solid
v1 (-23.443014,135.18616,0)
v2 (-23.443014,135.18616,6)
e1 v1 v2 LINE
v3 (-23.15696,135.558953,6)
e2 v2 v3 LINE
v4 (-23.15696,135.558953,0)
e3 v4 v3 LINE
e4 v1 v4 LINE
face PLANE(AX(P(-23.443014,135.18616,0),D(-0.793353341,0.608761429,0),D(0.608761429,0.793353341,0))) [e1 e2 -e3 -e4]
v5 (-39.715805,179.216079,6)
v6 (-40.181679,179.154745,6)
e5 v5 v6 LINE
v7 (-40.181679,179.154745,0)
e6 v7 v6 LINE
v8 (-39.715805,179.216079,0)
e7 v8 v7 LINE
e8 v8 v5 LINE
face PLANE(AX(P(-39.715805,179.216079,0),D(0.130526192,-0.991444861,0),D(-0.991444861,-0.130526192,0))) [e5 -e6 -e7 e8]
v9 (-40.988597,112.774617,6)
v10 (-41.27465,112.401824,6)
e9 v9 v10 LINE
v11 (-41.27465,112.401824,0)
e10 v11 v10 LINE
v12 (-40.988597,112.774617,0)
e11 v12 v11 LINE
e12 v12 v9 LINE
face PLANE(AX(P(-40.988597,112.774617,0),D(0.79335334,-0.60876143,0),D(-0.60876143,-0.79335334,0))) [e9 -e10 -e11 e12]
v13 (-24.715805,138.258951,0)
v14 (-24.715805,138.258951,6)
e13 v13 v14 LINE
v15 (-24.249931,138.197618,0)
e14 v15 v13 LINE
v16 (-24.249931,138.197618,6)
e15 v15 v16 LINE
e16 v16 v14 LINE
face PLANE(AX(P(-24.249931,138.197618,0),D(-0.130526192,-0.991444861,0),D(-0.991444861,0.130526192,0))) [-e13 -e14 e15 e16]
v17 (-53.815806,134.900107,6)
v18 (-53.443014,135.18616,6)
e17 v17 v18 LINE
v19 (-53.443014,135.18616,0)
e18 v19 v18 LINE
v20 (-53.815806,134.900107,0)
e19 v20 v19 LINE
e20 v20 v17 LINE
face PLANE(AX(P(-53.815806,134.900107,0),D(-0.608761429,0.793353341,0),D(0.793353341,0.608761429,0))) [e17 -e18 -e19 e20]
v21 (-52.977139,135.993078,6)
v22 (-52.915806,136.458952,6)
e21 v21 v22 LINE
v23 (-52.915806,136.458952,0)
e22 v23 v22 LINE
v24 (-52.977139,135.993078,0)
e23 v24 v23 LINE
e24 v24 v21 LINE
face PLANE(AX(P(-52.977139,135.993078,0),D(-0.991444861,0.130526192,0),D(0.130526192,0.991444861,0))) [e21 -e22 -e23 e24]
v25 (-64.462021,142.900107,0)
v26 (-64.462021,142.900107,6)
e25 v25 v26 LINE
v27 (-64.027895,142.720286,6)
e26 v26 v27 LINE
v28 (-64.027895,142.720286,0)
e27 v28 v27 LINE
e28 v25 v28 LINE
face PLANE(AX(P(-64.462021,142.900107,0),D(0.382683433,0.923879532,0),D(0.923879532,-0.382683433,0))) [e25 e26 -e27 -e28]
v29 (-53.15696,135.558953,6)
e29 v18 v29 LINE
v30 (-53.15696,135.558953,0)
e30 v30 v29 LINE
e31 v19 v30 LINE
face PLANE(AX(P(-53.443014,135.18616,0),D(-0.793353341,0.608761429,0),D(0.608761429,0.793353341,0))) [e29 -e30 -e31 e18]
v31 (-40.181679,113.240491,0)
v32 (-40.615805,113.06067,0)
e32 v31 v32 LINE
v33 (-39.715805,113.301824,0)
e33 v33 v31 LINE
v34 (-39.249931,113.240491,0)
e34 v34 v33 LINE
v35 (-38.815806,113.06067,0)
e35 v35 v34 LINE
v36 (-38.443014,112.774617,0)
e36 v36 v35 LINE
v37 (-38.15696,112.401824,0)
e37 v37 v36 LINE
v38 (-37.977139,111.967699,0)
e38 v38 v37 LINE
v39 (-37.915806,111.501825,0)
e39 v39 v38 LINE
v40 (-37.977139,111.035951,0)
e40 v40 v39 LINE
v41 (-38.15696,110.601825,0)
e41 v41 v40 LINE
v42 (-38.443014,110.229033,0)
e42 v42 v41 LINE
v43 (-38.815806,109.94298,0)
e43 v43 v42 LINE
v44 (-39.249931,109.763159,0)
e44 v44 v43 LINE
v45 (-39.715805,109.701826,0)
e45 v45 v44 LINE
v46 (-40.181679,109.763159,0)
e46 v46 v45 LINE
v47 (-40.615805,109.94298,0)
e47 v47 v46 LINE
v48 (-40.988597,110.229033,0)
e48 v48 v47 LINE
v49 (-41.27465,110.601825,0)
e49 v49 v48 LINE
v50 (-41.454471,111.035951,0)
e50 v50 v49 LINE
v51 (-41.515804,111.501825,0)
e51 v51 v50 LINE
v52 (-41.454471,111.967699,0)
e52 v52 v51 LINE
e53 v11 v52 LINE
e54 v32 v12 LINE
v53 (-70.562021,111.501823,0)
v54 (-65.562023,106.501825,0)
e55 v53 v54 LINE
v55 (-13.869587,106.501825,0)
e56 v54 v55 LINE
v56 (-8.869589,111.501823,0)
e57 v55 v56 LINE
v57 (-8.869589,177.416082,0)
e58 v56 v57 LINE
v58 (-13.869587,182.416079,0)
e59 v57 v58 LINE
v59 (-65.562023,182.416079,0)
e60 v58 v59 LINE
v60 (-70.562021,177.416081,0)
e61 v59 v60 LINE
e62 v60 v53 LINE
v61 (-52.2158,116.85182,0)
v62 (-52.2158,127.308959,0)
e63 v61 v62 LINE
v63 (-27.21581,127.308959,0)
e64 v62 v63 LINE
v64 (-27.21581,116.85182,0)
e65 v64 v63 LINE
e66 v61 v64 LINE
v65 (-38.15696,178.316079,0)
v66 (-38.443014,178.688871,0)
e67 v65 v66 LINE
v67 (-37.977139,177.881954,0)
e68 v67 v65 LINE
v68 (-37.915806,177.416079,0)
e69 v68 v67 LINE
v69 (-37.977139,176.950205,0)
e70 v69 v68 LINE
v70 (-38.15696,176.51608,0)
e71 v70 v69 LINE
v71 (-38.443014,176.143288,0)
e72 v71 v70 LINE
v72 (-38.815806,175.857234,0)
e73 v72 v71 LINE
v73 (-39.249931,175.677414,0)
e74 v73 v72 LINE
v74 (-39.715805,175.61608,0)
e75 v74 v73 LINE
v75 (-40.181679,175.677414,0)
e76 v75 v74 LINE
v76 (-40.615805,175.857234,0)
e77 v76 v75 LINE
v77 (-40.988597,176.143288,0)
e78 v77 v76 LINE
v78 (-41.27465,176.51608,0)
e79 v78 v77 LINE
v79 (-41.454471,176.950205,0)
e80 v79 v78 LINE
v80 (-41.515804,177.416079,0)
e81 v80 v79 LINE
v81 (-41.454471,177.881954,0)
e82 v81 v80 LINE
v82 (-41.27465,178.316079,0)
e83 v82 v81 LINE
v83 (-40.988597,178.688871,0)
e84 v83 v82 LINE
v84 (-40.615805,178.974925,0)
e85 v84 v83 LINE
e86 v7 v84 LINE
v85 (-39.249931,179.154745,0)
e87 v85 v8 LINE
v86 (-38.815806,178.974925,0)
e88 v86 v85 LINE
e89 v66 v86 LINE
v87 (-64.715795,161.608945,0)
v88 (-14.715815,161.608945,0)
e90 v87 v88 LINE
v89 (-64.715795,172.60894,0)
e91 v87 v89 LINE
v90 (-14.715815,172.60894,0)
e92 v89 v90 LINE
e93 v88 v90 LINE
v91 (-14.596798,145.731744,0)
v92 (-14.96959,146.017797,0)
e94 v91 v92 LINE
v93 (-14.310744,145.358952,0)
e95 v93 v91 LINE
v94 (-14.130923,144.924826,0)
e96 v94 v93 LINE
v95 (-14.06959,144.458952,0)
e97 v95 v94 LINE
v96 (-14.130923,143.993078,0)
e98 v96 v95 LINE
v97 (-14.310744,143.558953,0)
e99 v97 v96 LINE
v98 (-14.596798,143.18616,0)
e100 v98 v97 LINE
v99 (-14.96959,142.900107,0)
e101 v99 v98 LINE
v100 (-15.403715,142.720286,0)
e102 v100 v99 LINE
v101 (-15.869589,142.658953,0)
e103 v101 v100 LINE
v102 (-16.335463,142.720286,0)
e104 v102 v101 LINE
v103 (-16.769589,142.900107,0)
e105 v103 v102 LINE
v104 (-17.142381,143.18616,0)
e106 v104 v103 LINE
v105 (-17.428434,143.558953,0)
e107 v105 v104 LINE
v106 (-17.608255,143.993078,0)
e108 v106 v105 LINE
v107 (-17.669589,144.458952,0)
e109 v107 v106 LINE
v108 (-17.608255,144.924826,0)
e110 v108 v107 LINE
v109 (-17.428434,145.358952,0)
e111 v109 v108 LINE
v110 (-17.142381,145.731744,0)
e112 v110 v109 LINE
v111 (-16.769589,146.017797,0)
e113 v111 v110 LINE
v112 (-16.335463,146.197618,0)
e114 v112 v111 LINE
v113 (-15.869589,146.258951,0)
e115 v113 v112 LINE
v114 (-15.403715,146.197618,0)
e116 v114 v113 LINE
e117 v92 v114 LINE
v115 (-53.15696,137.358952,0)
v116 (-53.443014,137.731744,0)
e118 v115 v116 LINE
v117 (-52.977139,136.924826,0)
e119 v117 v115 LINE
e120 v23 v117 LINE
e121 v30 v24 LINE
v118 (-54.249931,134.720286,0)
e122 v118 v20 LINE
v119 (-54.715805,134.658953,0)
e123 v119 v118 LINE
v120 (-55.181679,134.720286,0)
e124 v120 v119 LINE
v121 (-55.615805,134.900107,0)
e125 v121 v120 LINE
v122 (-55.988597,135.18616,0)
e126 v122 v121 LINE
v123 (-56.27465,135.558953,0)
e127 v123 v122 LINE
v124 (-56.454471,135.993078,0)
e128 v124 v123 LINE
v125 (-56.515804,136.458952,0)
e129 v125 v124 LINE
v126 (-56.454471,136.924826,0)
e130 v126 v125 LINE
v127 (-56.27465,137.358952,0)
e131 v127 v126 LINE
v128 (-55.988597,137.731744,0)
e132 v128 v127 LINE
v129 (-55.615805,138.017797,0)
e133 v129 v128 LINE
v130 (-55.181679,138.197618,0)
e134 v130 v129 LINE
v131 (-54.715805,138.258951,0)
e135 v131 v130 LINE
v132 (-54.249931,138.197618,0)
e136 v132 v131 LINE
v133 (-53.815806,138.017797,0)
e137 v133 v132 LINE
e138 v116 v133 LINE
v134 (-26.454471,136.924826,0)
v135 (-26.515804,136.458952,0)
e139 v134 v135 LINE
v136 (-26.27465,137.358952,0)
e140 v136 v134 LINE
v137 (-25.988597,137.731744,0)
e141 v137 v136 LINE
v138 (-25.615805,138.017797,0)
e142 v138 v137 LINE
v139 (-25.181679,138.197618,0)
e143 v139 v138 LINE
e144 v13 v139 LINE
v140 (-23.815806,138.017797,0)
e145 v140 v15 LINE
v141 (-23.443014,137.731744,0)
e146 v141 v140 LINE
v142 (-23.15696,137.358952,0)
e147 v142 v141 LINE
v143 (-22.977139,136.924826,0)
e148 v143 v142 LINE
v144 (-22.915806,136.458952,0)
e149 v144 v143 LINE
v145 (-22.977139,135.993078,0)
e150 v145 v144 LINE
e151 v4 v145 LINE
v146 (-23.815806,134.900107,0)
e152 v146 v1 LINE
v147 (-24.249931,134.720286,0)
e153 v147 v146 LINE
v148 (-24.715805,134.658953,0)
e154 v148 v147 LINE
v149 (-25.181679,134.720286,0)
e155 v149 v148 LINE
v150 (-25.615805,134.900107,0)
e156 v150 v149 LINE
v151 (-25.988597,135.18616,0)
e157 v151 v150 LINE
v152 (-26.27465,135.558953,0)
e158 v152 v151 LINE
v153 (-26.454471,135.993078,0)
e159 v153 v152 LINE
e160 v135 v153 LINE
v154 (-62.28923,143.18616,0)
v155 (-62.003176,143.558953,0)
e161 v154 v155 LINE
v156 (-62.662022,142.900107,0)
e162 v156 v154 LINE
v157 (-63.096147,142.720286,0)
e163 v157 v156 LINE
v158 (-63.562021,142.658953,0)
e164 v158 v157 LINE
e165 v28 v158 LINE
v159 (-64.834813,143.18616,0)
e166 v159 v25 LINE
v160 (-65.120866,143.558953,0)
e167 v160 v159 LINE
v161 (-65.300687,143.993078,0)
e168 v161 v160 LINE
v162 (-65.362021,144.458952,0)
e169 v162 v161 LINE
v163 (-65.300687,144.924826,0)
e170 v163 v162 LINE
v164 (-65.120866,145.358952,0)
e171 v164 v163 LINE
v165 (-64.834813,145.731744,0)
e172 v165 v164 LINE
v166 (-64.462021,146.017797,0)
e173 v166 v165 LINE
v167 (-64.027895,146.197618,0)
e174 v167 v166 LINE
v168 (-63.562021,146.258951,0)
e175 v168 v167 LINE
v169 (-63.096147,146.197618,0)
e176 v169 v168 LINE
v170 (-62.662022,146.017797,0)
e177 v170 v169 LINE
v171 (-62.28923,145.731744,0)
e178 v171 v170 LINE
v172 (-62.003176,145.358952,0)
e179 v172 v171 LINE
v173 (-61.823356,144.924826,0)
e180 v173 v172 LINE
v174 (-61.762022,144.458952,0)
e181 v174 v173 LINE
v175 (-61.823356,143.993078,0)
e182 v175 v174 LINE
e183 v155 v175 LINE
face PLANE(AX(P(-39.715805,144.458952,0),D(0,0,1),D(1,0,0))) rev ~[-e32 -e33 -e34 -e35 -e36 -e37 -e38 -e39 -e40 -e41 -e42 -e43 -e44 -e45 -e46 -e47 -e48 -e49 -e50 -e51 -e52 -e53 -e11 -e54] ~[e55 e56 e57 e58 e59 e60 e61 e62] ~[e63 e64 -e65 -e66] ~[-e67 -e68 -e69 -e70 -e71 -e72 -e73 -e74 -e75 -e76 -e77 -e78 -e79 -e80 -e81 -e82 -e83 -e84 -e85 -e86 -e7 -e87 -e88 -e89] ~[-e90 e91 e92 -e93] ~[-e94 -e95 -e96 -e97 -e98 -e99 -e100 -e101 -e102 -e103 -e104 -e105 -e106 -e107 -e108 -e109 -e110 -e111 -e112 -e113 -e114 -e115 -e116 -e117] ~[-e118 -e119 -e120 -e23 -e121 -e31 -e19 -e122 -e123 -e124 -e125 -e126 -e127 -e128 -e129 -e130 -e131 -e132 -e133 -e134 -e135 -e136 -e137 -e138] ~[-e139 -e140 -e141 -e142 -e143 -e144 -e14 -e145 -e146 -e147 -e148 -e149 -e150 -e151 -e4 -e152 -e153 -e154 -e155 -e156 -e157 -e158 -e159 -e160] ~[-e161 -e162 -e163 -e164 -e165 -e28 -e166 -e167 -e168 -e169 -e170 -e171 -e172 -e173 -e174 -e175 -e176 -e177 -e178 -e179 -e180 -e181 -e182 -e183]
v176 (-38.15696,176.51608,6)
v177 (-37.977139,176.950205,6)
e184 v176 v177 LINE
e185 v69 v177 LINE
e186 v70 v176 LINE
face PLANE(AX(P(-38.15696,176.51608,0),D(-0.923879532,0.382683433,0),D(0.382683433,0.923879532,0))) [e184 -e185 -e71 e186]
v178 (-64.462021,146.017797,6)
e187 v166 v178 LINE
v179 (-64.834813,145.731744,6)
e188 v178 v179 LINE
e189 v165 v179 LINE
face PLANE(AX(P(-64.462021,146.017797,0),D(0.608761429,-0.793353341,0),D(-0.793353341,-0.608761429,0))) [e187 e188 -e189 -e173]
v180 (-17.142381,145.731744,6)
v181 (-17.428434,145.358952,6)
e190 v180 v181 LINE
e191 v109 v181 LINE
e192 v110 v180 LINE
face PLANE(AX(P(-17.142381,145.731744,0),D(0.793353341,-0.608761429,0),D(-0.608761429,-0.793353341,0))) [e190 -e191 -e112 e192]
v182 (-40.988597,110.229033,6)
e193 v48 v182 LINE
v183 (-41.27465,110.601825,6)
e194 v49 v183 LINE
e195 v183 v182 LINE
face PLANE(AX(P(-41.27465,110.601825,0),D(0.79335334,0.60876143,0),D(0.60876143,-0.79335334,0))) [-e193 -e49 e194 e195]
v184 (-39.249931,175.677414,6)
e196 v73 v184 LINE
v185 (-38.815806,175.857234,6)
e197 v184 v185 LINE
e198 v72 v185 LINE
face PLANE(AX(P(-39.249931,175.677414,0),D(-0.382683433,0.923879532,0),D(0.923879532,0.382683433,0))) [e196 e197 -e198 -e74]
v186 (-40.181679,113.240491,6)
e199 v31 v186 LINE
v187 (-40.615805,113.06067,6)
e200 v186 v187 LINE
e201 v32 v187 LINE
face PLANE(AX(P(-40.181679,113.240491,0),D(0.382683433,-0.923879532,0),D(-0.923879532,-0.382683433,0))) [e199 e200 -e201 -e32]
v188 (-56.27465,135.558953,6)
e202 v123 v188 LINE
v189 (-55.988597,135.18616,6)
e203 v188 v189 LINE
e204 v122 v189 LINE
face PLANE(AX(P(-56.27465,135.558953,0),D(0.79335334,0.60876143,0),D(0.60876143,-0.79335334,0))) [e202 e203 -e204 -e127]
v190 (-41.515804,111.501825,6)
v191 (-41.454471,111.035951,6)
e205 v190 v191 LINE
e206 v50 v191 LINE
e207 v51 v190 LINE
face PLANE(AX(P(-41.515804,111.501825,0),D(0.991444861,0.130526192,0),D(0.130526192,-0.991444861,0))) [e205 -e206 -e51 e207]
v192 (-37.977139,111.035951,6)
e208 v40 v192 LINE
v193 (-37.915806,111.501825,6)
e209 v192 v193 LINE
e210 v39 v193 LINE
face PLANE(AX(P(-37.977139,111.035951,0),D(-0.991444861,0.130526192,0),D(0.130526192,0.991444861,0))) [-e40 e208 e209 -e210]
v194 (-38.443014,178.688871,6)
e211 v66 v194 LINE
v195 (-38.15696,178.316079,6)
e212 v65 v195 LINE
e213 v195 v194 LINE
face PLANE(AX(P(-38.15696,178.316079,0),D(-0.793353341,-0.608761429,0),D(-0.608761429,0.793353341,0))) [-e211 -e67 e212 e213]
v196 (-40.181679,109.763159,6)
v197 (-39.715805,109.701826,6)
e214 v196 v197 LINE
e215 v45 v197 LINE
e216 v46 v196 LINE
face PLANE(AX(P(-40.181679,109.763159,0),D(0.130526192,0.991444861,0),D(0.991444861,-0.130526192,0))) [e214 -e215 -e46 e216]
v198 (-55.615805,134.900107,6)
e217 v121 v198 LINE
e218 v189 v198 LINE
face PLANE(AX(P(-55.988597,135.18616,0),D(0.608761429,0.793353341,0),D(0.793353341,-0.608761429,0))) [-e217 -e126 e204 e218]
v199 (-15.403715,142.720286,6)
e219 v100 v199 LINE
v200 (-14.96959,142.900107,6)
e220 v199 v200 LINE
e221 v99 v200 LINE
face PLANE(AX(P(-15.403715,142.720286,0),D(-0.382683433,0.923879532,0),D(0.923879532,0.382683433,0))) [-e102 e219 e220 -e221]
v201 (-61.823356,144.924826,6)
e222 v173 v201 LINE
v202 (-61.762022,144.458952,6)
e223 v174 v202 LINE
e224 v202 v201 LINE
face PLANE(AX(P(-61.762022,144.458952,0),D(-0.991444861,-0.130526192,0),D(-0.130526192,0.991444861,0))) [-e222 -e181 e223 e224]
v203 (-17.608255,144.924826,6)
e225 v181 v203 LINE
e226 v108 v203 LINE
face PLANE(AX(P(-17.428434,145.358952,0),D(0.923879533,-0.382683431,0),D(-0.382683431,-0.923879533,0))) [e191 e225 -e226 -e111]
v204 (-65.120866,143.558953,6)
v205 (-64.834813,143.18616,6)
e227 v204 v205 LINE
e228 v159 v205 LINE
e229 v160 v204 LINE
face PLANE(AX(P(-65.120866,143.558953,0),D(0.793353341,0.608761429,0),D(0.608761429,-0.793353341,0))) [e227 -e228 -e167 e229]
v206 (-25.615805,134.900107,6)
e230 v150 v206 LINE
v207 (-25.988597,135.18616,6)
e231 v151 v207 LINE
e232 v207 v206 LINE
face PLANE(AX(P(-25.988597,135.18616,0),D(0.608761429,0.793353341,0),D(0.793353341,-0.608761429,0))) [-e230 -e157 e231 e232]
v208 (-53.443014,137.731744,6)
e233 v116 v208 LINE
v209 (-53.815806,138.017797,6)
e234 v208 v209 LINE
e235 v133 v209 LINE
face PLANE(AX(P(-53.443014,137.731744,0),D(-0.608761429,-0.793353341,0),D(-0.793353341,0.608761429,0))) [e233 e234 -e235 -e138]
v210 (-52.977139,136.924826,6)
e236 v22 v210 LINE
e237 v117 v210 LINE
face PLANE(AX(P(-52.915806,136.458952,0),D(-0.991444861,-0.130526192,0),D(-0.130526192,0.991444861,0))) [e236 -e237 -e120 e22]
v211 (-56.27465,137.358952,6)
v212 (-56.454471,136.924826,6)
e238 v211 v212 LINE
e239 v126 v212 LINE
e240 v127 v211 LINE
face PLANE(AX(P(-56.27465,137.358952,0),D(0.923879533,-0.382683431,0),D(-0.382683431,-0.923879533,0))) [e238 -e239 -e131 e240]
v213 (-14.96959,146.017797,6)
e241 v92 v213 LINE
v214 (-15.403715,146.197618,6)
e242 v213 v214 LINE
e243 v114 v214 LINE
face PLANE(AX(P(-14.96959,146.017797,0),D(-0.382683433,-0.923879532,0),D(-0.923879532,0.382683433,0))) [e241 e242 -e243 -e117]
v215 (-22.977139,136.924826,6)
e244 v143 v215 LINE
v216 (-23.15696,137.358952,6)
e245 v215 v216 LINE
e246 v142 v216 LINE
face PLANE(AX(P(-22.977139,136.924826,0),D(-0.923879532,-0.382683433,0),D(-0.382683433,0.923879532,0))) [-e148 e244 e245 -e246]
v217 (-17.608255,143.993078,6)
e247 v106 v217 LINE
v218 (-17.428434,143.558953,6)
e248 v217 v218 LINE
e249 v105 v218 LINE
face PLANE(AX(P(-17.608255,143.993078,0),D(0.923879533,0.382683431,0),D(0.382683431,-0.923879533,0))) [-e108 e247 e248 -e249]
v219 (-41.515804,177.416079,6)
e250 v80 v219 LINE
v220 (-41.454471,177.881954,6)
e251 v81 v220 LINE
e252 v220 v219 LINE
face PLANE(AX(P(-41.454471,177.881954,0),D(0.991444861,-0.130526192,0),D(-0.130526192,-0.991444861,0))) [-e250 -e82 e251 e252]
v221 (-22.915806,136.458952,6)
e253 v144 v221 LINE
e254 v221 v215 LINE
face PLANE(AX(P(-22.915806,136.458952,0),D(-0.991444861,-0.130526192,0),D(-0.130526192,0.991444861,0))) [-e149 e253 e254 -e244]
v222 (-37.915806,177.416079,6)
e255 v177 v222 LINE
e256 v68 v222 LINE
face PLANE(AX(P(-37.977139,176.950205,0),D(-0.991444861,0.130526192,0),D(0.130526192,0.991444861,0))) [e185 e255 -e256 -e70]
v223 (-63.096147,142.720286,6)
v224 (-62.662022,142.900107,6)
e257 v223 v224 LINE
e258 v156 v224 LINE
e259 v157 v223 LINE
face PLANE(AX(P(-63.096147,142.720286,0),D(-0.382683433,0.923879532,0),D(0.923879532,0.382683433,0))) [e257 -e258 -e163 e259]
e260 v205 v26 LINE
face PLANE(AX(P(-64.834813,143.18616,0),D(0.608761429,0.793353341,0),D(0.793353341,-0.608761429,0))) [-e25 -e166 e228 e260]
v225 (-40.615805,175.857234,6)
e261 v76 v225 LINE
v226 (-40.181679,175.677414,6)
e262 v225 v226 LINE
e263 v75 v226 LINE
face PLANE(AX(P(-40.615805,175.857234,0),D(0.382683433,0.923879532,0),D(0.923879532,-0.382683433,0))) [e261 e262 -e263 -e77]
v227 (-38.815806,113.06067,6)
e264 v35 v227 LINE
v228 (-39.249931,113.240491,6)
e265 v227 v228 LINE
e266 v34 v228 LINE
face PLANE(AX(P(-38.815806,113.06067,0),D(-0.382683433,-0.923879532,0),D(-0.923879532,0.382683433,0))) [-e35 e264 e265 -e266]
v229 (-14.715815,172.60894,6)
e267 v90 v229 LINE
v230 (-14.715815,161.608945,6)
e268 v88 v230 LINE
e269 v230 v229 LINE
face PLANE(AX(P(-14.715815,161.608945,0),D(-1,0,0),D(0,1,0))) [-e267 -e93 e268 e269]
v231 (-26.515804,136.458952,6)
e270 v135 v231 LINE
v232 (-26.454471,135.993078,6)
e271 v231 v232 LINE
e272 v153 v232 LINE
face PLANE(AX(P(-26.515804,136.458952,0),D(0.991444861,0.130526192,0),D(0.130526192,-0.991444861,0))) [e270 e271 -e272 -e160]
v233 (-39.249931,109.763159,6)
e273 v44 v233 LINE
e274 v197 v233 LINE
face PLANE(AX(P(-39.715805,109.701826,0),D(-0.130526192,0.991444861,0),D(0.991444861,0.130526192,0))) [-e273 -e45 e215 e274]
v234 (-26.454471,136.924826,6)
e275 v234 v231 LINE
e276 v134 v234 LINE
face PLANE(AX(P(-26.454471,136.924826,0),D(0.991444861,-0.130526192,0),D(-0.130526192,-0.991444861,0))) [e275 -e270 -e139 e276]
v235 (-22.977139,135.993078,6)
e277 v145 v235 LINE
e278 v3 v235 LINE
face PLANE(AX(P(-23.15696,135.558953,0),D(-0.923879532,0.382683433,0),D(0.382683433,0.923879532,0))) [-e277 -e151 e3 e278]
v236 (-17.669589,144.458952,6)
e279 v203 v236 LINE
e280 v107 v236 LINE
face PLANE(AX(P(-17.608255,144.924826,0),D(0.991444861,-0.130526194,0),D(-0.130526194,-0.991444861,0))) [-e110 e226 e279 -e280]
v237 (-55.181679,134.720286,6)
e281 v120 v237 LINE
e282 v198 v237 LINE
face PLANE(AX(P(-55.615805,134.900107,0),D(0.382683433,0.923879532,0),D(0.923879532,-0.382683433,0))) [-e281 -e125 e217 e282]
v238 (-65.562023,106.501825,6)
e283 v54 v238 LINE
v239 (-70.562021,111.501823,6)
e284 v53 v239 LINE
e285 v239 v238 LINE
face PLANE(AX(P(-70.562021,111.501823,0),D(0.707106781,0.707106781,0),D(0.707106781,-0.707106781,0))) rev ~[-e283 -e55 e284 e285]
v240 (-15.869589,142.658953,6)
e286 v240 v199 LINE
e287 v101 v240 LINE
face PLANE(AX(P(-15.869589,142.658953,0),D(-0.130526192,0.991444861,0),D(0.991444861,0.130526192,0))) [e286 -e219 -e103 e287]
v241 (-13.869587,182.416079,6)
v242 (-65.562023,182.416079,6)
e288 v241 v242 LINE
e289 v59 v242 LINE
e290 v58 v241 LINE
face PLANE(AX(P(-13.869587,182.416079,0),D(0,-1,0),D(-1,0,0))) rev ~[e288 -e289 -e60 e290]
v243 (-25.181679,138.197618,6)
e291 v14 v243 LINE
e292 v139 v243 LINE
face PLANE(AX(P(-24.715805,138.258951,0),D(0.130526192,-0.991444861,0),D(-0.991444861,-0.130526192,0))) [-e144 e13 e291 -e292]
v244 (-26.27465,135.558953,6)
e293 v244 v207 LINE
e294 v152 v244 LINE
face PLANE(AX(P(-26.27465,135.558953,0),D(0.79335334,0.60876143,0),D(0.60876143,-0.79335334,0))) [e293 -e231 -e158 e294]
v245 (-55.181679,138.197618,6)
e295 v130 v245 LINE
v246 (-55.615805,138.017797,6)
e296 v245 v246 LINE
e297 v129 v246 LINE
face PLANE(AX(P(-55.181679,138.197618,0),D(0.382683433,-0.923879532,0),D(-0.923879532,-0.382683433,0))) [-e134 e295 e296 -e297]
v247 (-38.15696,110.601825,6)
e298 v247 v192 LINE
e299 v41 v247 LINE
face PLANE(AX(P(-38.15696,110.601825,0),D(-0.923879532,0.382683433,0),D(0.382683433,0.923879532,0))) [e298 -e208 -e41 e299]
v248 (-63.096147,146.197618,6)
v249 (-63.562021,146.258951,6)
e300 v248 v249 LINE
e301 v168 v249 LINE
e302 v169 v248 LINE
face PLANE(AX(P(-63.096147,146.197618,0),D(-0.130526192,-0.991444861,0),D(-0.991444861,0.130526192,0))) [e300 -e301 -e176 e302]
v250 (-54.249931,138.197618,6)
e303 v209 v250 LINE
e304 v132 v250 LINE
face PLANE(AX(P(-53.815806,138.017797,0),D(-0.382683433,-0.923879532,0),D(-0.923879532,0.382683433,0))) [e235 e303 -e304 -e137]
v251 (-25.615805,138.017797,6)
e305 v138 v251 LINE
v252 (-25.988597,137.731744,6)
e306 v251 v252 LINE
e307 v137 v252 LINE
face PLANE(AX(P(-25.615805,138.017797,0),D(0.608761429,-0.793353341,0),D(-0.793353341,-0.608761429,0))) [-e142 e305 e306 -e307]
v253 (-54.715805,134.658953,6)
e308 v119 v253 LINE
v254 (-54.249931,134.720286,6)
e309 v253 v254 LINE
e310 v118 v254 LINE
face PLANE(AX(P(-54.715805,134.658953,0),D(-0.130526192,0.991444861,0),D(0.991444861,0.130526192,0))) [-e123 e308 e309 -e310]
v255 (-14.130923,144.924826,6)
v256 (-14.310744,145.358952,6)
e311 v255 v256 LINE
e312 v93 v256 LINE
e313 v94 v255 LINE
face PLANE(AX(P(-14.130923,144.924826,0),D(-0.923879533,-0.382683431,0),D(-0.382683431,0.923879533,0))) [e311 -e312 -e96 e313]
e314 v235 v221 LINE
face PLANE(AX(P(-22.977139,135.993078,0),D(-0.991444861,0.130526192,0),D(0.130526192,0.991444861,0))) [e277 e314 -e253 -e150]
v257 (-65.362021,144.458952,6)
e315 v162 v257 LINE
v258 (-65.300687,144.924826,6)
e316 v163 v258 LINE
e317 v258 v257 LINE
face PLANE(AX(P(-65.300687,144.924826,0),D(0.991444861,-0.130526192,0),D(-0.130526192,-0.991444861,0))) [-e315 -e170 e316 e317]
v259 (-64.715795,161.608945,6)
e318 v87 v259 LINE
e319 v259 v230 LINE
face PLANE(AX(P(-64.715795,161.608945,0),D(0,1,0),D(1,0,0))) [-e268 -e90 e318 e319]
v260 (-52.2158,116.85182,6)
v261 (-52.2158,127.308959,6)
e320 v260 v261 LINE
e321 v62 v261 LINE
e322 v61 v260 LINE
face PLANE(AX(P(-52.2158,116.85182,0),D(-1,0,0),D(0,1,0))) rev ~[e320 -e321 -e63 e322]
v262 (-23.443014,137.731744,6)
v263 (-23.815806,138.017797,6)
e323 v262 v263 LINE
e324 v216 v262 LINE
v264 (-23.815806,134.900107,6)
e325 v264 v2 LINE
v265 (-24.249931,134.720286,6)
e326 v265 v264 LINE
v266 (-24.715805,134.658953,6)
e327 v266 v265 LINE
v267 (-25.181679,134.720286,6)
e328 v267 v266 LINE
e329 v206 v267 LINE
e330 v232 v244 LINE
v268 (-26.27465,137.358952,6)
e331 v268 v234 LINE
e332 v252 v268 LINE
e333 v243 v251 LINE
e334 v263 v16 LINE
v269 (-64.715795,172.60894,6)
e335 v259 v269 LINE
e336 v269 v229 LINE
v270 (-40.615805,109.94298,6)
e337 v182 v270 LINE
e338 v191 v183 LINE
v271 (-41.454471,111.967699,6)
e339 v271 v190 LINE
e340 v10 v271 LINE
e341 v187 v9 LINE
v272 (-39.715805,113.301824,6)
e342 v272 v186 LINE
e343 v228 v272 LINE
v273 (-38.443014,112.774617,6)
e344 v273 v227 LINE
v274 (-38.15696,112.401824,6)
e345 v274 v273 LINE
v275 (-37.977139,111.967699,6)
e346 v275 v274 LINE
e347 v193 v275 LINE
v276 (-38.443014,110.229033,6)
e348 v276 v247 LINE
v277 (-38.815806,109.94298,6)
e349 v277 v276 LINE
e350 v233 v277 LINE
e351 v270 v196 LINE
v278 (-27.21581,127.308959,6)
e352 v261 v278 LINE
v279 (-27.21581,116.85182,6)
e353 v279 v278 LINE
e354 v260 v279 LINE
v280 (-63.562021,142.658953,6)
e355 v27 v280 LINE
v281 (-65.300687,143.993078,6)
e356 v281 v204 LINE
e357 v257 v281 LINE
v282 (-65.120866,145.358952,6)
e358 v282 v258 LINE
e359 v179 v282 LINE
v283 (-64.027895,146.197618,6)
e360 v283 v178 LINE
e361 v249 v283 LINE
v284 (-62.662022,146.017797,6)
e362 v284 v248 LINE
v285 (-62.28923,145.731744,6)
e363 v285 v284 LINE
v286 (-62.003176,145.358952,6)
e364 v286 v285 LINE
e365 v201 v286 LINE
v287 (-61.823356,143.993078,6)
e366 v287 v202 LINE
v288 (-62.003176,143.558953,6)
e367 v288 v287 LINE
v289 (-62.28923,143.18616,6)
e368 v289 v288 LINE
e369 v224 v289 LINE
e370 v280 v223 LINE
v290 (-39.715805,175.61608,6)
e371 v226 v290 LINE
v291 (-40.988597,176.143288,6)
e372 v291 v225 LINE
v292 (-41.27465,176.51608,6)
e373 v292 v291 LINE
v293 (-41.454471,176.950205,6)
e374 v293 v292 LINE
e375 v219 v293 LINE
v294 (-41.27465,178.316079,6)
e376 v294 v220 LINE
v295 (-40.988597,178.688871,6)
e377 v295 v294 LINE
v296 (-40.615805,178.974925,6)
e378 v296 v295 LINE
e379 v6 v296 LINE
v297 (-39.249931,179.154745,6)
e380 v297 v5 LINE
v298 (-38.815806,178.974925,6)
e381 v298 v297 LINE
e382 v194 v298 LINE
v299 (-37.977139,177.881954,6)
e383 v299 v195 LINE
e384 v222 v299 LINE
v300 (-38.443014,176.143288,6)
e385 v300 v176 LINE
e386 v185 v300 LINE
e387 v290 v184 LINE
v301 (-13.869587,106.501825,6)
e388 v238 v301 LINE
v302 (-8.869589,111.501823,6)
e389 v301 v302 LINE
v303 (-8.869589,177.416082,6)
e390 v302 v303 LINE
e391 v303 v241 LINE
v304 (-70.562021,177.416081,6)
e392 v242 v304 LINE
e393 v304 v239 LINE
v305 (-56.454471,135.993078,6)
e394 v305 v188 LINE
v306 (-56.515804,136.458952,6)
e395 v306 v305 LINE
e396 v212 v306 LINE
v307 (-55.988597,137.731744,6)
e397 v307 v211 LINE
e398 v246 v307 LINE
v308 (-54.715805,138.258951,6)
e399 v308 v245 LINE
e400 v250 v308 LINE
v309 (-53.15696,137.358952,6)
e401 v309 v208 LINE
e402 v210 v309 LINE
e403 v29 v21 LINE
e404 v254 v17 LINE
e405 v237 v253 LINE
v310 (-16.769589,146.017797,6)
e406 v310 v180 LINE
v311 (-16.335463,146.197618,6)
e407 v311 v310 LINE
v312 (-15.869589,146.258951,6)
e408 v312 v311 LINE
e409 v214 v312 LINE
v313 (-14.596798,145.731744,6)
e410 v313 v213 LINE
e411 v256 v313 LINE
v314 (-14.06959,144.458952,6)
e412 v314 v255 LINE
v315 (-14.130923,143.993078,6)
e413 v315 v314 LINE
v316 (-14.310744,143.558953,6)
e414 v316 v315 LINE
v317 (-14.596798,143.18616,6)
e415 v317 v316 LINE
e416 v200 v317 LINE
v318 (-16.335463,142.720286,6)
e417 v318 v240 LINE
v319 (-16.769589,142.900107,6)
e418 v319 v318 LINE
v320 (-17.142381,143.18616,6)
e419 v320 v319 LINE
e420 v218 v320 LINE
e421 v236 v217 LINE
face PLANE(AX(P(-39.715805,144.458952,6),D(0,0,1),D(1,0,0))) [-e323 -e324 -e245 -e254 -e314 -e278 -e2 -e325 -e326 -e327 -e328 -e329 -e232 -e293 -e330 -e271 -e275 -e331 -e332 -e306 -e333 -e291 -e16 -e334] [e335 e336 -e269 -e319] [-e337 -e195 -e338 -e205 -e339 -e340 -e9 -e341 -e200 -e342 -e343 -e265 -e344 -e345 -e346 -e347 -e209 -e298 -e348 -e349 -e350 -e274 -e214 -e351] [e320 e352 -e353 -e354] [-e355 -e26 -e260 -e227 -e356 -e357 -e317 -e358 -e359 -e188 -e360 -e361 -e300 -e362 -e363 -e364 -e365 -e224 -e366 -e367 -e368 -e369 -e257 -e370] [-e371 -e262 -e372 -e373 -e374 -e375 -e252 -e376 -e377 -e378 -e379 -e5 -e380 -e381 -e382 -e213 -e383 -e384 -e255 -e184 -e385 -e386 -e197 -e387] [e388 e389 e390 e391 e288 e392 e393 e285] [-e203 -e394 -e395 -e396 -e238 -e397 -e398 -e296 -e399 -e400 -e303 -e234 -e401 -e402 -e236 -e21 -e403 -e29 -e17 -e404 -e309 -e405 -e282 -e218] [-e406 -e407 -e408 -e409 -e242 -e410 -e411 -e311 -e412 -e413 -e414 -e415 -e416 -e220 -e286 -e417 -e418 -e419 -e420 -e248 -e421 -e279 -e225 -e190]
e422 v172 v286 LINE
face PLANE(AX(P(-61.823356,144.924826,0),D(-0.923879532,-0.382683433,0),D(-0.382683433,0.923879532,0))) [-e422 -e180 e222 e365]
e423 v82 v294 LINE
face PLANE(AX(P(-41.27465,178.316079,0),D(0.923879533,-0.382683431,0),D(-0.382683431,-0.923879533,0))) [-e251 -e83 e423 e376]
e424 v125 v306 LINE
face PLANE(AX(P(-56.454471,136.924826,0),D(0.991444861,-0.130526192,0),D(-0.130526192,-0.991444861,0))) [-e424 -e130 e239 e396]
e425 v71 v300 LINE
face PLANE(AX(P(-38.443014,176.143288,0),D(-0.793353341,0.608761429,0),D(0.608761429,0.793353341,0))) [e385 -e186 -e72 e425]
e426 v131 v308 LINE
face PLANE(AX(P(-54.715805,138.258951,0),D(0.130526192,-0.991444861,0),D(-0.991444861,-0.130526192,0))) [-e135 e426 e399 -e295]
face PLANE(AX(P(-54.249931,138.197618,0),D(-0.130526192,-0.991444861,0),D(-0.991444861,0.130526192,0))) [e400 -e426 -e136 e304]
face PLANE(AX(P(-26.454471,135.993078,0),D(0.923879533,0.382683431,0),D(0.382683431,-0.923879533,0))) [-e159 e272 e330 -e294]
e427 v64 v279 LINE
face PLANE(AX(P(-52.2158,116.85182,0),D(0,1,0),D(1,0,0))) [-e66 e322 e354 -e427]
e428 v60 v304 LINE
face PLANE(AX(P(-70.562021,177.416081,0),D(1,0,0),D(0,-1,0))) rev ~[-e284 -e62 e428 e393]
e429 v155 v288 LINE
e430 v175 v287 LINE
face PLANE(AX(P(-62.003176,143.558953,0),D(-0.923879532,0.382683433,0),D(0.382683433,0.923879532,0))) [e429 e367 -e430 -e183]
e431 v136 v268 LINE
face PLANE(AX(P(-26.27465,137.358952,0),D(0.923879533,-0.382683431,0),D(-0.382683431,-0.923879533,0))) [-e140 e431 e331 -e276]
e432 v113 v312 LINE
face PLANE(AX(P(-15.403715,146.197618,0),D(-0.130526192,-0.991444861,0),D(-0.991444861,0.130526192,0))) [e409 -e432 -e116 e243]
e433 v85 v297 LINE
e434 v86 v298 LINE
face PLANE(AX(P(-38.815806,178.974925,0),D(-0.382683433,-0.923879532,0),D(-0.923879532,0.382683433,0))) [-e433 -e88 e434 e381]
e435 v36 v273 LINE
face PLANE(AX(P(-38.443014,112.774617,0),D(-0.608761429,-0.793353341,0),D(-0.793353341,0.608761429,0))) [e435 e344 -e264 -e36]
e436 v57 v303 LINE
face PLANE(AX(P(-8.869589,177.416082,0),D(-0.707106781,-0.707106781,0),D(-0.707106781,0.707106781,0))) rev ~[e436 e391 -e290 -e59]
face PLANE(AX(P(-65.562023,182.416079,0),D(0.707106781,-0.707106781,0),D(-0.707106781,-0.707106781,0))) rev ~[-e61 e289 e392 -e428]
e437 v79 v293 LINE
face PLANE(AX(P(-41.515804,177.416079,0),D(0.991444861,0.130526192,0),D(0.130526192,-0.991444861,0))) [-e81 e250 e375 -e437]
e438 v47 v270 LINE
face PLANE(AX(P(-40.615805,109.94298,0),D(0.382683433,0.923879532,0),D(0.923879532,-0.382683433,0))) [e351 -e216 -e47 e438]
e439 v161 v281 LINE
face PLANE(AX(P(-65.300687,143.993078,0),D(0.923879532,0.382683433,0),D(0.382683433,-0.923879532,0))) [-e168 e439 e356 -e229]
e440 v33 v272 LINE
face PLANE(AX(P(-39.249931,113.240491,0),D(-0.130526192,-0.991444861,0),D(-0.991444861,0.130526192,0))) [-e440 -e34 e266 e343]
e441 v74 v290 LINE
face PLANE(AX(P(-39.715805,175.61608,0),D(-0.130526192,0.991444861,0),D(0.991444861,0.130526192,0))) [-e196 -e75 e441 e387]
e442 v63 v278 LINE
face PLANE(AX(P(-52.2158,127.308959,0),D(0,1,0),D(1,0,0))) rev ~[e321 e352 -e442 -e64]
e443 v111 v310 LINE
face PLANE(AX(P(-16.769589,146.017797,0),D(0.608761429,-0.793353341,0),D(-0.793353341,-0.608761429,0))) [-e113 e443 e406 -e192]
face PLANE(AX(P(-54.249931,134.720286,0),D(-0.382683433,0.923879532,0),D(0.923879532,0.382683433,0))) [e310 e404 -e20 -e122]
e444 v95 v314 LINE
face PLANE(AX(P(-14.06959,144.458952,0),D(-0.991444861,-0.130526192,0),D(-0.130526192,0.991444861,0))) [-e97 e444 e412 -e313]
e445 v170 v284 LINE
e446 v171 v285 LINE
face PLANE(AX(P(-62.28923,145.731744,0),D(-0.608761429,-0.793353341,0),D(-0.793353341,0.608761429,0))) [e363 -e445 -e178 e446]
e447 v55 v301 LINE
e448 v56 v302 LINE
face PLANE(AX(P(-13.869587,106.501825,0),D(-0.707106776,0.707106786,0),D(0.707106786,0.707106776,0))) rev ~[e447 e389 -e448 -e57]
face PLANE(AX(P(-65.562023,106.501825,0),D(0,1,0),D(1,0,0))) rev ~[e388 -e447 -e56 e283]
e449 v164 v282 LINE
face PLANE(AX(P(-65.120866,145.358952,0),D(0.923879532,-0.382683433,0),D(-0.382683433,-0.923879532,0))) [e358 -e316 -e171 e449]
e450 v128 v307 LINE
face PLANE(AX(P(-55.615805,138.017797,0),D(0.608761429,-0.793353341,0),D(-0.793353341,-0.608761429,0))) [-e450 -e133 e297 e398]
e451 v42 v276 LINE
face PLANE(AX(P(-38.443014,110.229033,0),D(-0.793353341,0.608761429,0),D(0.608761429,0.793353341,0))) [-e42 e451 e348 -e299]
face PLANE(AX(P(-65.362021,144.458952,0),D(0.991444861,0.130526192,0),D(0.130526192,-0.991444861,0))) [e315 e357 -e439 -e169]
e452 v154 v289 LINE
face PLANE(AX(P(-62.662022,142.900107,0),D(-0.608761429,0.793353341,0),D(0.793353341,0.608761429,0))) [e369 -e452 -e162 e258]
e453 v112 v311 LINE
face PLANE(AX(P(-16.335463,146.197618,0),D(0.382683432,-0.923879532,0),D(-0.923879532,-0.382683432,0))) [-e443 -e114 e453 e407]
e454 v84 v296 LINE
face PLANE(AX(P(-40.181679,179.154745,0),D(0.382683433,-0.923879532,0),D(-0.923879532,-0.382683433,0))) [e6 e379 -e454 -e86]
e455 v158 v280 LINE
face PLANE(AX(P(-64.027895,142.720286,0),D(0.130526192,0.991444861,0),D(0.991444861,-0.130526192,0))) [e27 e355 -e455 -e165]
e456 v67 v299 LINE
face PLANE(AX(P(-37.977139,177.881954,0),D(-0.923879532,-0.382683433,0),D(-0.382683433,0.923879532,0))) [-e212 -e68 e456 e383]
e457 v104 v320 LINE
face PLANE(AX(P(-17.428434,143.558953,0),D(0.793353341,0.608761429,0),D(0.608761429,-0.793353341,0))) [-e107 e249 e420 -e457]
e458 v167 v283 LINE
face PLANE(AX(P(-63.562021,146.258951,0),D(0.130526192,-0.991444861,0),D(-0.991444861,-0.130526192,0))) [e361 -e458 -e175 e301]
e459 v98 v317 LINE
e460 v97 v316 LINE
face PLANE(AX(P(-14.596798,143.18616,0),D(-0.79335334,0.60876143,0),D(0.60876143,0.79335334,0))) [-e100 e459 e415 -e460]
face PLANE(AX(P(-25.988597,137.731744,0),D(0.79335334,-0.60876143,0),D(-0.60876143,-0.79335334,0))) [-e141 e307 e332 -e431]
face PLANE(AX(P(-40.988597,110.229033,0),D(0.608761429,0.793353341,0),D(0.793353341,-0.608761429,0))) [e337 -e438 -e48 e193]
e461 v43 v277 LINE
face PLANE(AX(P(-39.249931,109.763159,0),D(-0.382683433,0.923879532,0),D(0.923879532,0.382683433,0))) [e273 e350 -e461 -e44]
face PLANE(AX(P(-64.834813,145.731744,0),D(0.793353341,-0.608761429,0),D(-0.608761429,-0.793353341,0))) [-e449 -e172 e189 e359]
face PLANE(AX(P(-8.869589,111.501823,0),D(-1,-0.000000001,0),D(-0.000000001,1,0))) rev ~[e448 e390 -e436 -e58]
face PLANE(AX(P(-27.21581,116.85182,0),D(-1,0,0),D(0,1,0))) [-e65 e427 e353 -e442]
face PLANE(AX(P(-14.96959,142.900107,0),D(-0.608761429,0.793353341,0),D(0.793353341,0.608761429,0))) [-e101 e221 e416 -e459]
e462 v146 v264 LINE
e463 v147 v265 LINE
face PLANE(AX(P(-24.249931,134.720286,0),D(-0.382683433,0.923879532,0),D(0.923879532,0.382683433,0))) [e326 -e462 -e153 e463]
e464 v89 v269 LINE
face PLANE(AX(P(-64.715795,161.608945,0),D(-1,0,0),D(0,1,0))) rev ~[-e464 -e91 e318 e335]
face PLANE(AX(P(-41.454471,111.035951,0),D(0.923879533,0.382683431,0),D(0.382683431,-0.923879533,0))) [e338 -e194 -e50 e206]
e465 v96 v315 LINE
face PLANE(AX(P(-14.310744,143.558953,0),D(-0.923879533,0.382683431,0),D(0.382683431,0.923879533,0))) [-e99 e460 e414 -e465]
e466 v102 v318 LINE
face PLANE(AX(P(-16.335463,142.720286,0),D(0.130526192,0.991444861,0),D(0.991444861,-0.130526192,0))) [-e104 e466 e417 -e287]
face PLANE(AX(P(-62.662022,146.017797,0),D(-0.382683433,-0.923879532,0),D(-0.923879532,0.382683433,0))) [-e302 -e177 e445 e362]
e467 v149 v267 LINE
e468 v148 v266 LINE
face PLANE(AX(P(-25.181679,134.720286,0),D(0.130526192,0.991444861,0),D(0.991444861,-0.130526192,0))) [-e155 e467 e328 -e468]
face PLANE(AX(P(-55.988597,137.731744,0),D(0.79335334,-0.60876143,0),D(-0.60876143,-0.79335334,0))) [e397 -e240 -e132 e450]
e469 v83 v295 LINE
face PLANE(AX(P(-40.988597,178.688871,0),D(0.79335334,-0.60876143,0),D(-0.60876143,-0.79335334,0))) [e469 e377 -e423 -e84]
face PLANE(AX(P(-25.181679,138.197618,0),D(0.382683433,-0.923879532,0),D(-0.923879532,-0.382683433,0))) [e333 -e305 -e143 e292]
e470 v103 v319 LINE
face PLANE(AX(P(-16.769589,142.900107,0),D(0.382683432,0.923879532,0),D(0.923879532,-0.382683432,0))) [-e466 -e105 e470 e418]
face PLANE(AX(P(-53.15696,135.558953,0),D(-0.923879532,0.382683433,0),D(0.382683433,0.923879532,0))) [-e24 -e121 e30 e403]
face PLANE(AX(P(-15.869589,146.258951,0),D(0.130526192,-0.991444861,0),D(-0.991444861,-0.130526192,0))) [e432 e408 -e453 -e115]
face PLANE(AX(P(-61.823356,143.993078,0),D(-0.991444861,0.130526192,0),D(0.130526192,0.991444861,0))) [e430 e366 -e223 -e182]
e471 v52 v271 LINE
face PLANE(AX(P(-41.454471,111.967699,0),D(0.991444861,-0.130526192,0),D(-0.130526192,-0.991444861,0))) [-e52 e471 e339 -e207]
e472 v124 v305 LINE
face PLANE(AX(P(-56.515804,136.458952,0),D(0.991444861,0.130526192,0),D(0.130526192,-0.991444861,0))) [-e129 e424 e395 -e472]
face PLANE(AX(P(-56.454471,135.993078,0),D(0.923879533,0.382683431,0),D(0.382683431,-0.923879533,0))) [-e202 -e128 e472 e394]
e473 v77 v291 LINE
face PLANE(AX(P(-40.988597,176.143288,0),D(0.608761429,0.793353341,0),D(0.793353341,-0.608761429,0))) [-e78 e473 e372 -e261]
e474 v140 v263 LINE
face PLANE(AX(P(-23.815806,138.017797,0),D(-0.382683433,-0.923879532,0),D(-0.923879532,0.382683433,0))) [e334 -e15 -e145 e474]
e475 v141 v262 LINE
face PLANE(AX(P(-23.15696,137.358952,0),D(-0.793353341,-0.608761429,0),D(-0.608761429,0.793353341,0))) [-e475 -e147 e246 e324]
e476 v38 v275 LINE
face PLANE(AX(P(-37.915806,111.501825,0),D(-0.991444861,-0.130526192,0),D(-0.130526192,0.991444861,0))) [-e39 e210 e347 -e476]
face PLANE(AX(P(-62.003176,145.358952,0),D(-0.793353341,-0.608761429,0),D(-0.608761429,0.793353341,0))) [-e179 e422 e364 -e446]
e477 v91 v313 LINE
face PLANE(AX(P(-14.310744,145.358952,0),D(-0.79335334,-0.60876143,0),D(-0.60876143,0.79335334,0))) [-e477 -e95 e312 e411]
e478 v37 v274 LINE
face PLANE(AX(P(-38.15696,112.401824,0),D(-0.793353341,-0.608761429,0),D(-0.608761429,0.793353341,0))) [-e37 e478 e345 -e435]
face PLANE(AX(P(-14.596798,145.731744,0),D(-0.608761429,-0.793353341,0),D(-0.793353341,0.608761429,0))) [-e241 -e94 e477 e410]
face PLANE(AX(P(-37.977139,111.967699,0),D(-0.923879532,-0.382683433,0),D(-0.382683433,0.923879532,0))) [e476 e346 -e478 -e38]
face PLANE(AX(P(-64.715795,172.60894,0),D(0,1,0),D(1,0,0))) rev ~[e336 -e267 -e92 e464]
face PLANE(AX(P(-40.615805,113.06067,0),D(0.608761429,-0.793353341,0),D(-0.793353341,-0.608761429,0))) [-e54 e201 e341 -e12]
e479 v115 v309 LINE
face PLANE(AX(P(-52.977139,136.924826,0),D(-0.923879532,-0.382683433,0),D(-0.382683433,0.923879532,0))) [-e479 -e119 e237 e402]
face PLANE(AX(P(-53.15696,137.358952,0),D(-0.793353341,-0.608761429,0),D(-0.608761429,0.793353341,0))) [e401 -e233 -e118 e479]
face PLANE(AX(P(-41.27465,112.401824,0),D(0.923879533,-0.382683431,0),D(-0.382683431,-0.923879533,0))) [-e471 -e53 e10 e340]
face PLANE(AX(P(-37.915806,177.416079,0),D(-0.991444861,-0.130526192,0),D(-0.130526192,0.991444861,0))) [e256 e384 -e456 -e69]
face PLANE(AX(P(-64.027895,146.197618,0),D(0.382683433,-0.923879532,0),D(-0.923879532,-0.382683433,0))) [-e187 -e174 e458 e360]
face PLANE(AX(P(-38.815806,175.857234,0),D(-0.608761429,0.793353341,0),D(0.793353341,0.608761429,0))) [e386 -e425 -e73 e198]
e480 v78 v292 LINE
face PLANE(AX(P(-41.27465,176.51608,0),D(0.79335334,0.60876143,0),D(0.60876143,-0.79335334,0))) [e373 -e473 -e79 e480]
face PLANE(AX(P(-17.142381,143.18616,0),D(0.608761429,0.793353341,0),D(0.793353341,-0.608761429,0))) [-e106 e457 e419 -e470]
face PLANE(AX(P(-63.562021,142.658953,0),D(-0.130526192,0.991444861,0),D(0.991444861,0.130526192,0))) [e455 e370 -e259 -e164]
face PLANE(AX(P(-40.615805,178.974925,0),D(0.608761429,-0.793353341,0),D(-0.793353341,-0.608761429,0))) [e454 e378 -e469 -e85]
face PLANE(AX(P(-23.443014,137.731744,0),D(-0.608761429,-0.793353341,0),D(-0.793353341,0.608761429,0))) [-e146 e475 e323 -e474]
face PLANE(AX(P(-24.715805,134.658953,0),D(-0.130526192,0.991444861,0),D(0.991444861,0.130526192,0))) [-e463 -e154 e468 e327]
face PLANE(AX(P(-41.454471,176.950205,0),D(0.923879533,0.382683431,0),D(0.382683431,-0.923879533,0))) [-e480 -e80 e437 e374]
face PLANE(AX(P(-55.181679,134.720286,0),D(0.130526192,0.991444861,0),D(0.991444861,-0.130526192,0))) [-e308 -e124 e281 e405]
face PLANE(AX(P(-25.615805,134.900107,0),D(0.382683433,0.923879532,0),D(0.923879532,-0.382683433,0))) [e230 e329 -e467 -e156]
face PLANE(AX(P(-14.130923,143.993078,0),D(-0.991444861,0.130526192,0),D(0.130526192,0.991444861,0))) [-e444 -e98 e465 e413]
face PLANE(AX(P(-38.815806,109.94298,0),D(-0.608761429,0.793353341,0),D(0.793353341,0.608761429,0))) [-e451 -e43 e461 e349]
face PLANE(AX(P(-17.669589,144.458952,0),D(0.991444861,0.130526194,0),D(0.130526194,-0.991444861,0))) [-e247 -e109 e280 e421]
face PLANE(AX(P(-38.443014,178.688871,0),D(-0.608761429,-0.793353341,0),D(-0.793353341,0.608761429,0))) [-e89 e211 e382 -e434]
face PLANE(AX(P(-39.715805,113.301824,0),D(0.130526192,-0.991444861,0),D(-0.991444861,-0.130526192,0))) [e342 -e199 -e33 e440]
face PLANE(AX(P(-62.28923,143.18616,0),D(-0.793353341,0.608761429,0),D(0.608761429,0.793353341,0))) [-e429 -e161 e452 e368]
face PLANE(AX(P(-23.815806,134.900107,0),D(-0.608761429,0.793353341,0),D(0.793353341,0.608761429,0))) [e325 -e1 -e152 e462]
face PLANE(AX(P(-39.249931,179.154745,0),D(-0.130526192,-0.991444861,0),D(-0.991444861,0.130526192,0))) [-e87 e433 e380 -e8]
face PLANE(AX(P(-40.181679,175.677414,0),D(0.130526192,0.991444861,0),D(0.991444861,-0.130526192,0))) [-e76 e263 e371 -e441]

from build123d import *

# Parameters (mm, degrees)
SKETCH1_W           = 24.999989911
SKETCH1_H           = 10.457138345
SKETCH1_W_2         = 49.999979697
SKETCH1_H_2         = 10.999995004
BOSS_EXTRUDE1_DEPTH = 6


with BuildPart() as part:
    # Sketch1 → Boss-Extrude1 (new body)
    with BuildSketch(Plane.XY):
        Polygon((-65.562023318, 106.501824812), (-13.869587203, 106.501824812), (-8.869589203, 111.501822737), (-8.86958929, 177.416081581), (-13.869587182, 182.416079474), (-65.562023318, 182.416079474), (-70.562021318, 177.416081474), (-70.562021318, 111.501822812), align=None)
        with Locations((-39.715805178, 122.080389652)):
            Rectangle(SKETCH1_W, SKETCH1_H, mode=Mode.SUBTRACT)
        with Locations((-39.715804889, 167.108942347)):
            Rectangle(SKETCH1_W_2, SKETCH1_H_2, mode=Mode.SUBTRACT)
        Polygon((-64.027895413, 142.720286351), (-63.562021318, 142.658952863), (-63.096147223, 142.720286351), (-62.662021678, 142.90010704), (-62.289229621, 143.186160446), (-62.003176215, 143.558952503), (-61.823355526, 143.993078048), (-61.762022038, 144.458952143), (-61.823355526, 144.924826238), (-62.003176215, 145.358951783), (-62.289229621, 145.73174384), (-62.662021678, 146.017797246), (-63.096147223, 146.197617935), (-63.562021318, 146.258951423), (-64.027895413, 146.197617935), (-64.462020958, 146.017797246), (-64.834813015, 145.73174384), (-65.120866421, 145.358951783), (-65.30068711, 144.924826238), (-65.362020598, 144.458952143), (-65.30068711, 143.993078048), (-65.120866421, 143.558952503), (-64.834813015, 143.186160446), (-64.462020958, 142.90010704), align=None, mode=Mode.SUBTRACT)
        Polygon((-15.869589241, 146.258951423), (-16.335463335, 146.197617935), (-16.769588881, 146.017797246), (-17.142380938, 145.73174384), (-17.428434344, 145.358951783), (-17.608255032, 144.924826238), (-17.669588521, 144.458952143), (-17.608255032, 143.993078048), (-17.428434344, 143.558952503), (-17.142380938, 143.186160446), (-16.769588881, 142.90010704), (-16.335463335, 142.720286351), (-15.869589241, 142.658952863), (-15.403715146, 142.720286351), (-14.969589601, 142.90010704), (-14.596797544, 143.186160446), (-14.310744137, 143.558952503), (-14.130923449, 143.993078048), (-14.069589961, 144.458952143), (-14.130923449, 144.924826238), (-14.310744137, 145.358951783), (-14.596797544, 145.73174384), (-14.969589601, 146.017797246), (-15.403715146, 146.197617935), align=None, mode=Mode.SUBTRACT)
        Polygon((-37.977139407, 111.967698907), (-38.156960096, 112.401824452), (-38.443013502, 112.774616509), (-38.815805559, 113.060669915), (-39.249931104, 113.240490604), (-39.715805199, 113.301824092), (-40.181679294, 113.240490604), (-40.615804839, 113.060669915), (-40.988596896, 112.774616509), (-41.274650303, 112.401824452), (-41.454470991, 111.967698907), (-41.515804479, 111.501824812), (-41.454470991, 111.035950717), (-41.274650303, 110.601825172), (-40.988596896, 110.229033115), (-40.615804839, 109.942979709), (-40.181679294, 109.76315902), (-39.715805199, 109.701825532), (-39.249931104, 109.76315902), (-38.815805559, 109.942979709), (-38.443013502, 110.229033115), (-38.156960096, 110.601825172), (-37.977139407, 111.035950717), (-37.915805919, 111.501824812), align=None, mode=Mode.SUBTRACT)
        Polygon((-37.977139407, 176.950205359), (-37.915805919, 177.416079454), (-37.977139407, 177.881953549), (-38.156960096, 178.316079094), (-38.443013502, 178.688871151), (-38.815805559, 178.974924557), (-39.249931104, 179.154745246), (-39.715805199, 179.216078734), (-40.181679294, 179.154745246), (-40.615804839, 178.974924557), (-40.988596896, 178.688871151), (-41.274650303, 178.316079094), (-41.454470991, 177.881953549), (-41.515804479, 177.416079454), (-41.454470991, 176.950205359), (-41.274650303, 176.516079814), (-40.988596896, 176.143287757), (-40.615804839, 175.857234351), (-40.181679294, 175.677413662), (-39.715805199, 175.616080174), (-39.249931104, 175.677413662), (-38.815805559, 175.857234351), (-38.443013502, 176.143287757), (-38.156960096, 176.516079814), align=None, mode=Mode.SUBTRACT)
        Polygon((-55.181679294, 134.720286351), (-54.715805199, 134.658952863), (-54.249931104, 134.720286351), (-53.815805559, 134.90010704), (-53.443013502, 135.186160446), (-53.156960096, 135.558952503), (-52.977139407, 135.993078048), (-52.915805919, 136.458952143), (-52.977139407, 136.924826238), (-53.156960096, 137.358951783), (-53.443013502, 137.73174384), (-53.815805559, 138.017797246), (-54.249931104, 138.197617935), (-54.715805199, 138.258951423), (-55.181679294, 138.197617935), (-55.615804839, 138.017797246), (-55.988596896, 137.73174384), (-56.274650303, 137.358951783), (-56.454470991, 136.924826238), (-56.515804479, 136.458952143), (-56.454470991, 135.993078048), (-56.274650303, 135.558952503), (-55.988596896, 135.186160446), (-55.615804839, 134.90010704), align=None, mode=Mode.SUBTRACT)
        Polygon((-23.156960096, 137.358951783), (-23.443013502, 137.73174384), (-23.815805559, 138.017797246), (-24.249931104, 138.197617935), (-24.715805199, 138.258951423), (-25.181679294, 138.197617935), (-25.615804839, 138.017797246), (-25.988596896, 137.73174384), (-26.274650303, 137.358951783), (-26.454470991, 136.924826238), (-26.515804479, 136.458952143), (-26.454470991, 135.993078048), (-26.274650303, 135.558952503), (-25.988596896, 135.186160446), (-25.615804839, 134.90010704), (-25.181679294, 134.720286351), (-24.715805199, 134.658952863), (-24.249931104, 134.720286351), (-23.815805559, 134.90010704), (-23.443013502, 135.186160446), (-23.156960096, 135.558952503), (-22.977139407, 135.993078048), (-22.915805919, 136.458952143), (-22.977139407, 136.924826238), align=None, mode=Mode.SUBTRACT)
    extrude(amount=BOSS_EXTRUDE1_DEPTH)


solid = part.part
